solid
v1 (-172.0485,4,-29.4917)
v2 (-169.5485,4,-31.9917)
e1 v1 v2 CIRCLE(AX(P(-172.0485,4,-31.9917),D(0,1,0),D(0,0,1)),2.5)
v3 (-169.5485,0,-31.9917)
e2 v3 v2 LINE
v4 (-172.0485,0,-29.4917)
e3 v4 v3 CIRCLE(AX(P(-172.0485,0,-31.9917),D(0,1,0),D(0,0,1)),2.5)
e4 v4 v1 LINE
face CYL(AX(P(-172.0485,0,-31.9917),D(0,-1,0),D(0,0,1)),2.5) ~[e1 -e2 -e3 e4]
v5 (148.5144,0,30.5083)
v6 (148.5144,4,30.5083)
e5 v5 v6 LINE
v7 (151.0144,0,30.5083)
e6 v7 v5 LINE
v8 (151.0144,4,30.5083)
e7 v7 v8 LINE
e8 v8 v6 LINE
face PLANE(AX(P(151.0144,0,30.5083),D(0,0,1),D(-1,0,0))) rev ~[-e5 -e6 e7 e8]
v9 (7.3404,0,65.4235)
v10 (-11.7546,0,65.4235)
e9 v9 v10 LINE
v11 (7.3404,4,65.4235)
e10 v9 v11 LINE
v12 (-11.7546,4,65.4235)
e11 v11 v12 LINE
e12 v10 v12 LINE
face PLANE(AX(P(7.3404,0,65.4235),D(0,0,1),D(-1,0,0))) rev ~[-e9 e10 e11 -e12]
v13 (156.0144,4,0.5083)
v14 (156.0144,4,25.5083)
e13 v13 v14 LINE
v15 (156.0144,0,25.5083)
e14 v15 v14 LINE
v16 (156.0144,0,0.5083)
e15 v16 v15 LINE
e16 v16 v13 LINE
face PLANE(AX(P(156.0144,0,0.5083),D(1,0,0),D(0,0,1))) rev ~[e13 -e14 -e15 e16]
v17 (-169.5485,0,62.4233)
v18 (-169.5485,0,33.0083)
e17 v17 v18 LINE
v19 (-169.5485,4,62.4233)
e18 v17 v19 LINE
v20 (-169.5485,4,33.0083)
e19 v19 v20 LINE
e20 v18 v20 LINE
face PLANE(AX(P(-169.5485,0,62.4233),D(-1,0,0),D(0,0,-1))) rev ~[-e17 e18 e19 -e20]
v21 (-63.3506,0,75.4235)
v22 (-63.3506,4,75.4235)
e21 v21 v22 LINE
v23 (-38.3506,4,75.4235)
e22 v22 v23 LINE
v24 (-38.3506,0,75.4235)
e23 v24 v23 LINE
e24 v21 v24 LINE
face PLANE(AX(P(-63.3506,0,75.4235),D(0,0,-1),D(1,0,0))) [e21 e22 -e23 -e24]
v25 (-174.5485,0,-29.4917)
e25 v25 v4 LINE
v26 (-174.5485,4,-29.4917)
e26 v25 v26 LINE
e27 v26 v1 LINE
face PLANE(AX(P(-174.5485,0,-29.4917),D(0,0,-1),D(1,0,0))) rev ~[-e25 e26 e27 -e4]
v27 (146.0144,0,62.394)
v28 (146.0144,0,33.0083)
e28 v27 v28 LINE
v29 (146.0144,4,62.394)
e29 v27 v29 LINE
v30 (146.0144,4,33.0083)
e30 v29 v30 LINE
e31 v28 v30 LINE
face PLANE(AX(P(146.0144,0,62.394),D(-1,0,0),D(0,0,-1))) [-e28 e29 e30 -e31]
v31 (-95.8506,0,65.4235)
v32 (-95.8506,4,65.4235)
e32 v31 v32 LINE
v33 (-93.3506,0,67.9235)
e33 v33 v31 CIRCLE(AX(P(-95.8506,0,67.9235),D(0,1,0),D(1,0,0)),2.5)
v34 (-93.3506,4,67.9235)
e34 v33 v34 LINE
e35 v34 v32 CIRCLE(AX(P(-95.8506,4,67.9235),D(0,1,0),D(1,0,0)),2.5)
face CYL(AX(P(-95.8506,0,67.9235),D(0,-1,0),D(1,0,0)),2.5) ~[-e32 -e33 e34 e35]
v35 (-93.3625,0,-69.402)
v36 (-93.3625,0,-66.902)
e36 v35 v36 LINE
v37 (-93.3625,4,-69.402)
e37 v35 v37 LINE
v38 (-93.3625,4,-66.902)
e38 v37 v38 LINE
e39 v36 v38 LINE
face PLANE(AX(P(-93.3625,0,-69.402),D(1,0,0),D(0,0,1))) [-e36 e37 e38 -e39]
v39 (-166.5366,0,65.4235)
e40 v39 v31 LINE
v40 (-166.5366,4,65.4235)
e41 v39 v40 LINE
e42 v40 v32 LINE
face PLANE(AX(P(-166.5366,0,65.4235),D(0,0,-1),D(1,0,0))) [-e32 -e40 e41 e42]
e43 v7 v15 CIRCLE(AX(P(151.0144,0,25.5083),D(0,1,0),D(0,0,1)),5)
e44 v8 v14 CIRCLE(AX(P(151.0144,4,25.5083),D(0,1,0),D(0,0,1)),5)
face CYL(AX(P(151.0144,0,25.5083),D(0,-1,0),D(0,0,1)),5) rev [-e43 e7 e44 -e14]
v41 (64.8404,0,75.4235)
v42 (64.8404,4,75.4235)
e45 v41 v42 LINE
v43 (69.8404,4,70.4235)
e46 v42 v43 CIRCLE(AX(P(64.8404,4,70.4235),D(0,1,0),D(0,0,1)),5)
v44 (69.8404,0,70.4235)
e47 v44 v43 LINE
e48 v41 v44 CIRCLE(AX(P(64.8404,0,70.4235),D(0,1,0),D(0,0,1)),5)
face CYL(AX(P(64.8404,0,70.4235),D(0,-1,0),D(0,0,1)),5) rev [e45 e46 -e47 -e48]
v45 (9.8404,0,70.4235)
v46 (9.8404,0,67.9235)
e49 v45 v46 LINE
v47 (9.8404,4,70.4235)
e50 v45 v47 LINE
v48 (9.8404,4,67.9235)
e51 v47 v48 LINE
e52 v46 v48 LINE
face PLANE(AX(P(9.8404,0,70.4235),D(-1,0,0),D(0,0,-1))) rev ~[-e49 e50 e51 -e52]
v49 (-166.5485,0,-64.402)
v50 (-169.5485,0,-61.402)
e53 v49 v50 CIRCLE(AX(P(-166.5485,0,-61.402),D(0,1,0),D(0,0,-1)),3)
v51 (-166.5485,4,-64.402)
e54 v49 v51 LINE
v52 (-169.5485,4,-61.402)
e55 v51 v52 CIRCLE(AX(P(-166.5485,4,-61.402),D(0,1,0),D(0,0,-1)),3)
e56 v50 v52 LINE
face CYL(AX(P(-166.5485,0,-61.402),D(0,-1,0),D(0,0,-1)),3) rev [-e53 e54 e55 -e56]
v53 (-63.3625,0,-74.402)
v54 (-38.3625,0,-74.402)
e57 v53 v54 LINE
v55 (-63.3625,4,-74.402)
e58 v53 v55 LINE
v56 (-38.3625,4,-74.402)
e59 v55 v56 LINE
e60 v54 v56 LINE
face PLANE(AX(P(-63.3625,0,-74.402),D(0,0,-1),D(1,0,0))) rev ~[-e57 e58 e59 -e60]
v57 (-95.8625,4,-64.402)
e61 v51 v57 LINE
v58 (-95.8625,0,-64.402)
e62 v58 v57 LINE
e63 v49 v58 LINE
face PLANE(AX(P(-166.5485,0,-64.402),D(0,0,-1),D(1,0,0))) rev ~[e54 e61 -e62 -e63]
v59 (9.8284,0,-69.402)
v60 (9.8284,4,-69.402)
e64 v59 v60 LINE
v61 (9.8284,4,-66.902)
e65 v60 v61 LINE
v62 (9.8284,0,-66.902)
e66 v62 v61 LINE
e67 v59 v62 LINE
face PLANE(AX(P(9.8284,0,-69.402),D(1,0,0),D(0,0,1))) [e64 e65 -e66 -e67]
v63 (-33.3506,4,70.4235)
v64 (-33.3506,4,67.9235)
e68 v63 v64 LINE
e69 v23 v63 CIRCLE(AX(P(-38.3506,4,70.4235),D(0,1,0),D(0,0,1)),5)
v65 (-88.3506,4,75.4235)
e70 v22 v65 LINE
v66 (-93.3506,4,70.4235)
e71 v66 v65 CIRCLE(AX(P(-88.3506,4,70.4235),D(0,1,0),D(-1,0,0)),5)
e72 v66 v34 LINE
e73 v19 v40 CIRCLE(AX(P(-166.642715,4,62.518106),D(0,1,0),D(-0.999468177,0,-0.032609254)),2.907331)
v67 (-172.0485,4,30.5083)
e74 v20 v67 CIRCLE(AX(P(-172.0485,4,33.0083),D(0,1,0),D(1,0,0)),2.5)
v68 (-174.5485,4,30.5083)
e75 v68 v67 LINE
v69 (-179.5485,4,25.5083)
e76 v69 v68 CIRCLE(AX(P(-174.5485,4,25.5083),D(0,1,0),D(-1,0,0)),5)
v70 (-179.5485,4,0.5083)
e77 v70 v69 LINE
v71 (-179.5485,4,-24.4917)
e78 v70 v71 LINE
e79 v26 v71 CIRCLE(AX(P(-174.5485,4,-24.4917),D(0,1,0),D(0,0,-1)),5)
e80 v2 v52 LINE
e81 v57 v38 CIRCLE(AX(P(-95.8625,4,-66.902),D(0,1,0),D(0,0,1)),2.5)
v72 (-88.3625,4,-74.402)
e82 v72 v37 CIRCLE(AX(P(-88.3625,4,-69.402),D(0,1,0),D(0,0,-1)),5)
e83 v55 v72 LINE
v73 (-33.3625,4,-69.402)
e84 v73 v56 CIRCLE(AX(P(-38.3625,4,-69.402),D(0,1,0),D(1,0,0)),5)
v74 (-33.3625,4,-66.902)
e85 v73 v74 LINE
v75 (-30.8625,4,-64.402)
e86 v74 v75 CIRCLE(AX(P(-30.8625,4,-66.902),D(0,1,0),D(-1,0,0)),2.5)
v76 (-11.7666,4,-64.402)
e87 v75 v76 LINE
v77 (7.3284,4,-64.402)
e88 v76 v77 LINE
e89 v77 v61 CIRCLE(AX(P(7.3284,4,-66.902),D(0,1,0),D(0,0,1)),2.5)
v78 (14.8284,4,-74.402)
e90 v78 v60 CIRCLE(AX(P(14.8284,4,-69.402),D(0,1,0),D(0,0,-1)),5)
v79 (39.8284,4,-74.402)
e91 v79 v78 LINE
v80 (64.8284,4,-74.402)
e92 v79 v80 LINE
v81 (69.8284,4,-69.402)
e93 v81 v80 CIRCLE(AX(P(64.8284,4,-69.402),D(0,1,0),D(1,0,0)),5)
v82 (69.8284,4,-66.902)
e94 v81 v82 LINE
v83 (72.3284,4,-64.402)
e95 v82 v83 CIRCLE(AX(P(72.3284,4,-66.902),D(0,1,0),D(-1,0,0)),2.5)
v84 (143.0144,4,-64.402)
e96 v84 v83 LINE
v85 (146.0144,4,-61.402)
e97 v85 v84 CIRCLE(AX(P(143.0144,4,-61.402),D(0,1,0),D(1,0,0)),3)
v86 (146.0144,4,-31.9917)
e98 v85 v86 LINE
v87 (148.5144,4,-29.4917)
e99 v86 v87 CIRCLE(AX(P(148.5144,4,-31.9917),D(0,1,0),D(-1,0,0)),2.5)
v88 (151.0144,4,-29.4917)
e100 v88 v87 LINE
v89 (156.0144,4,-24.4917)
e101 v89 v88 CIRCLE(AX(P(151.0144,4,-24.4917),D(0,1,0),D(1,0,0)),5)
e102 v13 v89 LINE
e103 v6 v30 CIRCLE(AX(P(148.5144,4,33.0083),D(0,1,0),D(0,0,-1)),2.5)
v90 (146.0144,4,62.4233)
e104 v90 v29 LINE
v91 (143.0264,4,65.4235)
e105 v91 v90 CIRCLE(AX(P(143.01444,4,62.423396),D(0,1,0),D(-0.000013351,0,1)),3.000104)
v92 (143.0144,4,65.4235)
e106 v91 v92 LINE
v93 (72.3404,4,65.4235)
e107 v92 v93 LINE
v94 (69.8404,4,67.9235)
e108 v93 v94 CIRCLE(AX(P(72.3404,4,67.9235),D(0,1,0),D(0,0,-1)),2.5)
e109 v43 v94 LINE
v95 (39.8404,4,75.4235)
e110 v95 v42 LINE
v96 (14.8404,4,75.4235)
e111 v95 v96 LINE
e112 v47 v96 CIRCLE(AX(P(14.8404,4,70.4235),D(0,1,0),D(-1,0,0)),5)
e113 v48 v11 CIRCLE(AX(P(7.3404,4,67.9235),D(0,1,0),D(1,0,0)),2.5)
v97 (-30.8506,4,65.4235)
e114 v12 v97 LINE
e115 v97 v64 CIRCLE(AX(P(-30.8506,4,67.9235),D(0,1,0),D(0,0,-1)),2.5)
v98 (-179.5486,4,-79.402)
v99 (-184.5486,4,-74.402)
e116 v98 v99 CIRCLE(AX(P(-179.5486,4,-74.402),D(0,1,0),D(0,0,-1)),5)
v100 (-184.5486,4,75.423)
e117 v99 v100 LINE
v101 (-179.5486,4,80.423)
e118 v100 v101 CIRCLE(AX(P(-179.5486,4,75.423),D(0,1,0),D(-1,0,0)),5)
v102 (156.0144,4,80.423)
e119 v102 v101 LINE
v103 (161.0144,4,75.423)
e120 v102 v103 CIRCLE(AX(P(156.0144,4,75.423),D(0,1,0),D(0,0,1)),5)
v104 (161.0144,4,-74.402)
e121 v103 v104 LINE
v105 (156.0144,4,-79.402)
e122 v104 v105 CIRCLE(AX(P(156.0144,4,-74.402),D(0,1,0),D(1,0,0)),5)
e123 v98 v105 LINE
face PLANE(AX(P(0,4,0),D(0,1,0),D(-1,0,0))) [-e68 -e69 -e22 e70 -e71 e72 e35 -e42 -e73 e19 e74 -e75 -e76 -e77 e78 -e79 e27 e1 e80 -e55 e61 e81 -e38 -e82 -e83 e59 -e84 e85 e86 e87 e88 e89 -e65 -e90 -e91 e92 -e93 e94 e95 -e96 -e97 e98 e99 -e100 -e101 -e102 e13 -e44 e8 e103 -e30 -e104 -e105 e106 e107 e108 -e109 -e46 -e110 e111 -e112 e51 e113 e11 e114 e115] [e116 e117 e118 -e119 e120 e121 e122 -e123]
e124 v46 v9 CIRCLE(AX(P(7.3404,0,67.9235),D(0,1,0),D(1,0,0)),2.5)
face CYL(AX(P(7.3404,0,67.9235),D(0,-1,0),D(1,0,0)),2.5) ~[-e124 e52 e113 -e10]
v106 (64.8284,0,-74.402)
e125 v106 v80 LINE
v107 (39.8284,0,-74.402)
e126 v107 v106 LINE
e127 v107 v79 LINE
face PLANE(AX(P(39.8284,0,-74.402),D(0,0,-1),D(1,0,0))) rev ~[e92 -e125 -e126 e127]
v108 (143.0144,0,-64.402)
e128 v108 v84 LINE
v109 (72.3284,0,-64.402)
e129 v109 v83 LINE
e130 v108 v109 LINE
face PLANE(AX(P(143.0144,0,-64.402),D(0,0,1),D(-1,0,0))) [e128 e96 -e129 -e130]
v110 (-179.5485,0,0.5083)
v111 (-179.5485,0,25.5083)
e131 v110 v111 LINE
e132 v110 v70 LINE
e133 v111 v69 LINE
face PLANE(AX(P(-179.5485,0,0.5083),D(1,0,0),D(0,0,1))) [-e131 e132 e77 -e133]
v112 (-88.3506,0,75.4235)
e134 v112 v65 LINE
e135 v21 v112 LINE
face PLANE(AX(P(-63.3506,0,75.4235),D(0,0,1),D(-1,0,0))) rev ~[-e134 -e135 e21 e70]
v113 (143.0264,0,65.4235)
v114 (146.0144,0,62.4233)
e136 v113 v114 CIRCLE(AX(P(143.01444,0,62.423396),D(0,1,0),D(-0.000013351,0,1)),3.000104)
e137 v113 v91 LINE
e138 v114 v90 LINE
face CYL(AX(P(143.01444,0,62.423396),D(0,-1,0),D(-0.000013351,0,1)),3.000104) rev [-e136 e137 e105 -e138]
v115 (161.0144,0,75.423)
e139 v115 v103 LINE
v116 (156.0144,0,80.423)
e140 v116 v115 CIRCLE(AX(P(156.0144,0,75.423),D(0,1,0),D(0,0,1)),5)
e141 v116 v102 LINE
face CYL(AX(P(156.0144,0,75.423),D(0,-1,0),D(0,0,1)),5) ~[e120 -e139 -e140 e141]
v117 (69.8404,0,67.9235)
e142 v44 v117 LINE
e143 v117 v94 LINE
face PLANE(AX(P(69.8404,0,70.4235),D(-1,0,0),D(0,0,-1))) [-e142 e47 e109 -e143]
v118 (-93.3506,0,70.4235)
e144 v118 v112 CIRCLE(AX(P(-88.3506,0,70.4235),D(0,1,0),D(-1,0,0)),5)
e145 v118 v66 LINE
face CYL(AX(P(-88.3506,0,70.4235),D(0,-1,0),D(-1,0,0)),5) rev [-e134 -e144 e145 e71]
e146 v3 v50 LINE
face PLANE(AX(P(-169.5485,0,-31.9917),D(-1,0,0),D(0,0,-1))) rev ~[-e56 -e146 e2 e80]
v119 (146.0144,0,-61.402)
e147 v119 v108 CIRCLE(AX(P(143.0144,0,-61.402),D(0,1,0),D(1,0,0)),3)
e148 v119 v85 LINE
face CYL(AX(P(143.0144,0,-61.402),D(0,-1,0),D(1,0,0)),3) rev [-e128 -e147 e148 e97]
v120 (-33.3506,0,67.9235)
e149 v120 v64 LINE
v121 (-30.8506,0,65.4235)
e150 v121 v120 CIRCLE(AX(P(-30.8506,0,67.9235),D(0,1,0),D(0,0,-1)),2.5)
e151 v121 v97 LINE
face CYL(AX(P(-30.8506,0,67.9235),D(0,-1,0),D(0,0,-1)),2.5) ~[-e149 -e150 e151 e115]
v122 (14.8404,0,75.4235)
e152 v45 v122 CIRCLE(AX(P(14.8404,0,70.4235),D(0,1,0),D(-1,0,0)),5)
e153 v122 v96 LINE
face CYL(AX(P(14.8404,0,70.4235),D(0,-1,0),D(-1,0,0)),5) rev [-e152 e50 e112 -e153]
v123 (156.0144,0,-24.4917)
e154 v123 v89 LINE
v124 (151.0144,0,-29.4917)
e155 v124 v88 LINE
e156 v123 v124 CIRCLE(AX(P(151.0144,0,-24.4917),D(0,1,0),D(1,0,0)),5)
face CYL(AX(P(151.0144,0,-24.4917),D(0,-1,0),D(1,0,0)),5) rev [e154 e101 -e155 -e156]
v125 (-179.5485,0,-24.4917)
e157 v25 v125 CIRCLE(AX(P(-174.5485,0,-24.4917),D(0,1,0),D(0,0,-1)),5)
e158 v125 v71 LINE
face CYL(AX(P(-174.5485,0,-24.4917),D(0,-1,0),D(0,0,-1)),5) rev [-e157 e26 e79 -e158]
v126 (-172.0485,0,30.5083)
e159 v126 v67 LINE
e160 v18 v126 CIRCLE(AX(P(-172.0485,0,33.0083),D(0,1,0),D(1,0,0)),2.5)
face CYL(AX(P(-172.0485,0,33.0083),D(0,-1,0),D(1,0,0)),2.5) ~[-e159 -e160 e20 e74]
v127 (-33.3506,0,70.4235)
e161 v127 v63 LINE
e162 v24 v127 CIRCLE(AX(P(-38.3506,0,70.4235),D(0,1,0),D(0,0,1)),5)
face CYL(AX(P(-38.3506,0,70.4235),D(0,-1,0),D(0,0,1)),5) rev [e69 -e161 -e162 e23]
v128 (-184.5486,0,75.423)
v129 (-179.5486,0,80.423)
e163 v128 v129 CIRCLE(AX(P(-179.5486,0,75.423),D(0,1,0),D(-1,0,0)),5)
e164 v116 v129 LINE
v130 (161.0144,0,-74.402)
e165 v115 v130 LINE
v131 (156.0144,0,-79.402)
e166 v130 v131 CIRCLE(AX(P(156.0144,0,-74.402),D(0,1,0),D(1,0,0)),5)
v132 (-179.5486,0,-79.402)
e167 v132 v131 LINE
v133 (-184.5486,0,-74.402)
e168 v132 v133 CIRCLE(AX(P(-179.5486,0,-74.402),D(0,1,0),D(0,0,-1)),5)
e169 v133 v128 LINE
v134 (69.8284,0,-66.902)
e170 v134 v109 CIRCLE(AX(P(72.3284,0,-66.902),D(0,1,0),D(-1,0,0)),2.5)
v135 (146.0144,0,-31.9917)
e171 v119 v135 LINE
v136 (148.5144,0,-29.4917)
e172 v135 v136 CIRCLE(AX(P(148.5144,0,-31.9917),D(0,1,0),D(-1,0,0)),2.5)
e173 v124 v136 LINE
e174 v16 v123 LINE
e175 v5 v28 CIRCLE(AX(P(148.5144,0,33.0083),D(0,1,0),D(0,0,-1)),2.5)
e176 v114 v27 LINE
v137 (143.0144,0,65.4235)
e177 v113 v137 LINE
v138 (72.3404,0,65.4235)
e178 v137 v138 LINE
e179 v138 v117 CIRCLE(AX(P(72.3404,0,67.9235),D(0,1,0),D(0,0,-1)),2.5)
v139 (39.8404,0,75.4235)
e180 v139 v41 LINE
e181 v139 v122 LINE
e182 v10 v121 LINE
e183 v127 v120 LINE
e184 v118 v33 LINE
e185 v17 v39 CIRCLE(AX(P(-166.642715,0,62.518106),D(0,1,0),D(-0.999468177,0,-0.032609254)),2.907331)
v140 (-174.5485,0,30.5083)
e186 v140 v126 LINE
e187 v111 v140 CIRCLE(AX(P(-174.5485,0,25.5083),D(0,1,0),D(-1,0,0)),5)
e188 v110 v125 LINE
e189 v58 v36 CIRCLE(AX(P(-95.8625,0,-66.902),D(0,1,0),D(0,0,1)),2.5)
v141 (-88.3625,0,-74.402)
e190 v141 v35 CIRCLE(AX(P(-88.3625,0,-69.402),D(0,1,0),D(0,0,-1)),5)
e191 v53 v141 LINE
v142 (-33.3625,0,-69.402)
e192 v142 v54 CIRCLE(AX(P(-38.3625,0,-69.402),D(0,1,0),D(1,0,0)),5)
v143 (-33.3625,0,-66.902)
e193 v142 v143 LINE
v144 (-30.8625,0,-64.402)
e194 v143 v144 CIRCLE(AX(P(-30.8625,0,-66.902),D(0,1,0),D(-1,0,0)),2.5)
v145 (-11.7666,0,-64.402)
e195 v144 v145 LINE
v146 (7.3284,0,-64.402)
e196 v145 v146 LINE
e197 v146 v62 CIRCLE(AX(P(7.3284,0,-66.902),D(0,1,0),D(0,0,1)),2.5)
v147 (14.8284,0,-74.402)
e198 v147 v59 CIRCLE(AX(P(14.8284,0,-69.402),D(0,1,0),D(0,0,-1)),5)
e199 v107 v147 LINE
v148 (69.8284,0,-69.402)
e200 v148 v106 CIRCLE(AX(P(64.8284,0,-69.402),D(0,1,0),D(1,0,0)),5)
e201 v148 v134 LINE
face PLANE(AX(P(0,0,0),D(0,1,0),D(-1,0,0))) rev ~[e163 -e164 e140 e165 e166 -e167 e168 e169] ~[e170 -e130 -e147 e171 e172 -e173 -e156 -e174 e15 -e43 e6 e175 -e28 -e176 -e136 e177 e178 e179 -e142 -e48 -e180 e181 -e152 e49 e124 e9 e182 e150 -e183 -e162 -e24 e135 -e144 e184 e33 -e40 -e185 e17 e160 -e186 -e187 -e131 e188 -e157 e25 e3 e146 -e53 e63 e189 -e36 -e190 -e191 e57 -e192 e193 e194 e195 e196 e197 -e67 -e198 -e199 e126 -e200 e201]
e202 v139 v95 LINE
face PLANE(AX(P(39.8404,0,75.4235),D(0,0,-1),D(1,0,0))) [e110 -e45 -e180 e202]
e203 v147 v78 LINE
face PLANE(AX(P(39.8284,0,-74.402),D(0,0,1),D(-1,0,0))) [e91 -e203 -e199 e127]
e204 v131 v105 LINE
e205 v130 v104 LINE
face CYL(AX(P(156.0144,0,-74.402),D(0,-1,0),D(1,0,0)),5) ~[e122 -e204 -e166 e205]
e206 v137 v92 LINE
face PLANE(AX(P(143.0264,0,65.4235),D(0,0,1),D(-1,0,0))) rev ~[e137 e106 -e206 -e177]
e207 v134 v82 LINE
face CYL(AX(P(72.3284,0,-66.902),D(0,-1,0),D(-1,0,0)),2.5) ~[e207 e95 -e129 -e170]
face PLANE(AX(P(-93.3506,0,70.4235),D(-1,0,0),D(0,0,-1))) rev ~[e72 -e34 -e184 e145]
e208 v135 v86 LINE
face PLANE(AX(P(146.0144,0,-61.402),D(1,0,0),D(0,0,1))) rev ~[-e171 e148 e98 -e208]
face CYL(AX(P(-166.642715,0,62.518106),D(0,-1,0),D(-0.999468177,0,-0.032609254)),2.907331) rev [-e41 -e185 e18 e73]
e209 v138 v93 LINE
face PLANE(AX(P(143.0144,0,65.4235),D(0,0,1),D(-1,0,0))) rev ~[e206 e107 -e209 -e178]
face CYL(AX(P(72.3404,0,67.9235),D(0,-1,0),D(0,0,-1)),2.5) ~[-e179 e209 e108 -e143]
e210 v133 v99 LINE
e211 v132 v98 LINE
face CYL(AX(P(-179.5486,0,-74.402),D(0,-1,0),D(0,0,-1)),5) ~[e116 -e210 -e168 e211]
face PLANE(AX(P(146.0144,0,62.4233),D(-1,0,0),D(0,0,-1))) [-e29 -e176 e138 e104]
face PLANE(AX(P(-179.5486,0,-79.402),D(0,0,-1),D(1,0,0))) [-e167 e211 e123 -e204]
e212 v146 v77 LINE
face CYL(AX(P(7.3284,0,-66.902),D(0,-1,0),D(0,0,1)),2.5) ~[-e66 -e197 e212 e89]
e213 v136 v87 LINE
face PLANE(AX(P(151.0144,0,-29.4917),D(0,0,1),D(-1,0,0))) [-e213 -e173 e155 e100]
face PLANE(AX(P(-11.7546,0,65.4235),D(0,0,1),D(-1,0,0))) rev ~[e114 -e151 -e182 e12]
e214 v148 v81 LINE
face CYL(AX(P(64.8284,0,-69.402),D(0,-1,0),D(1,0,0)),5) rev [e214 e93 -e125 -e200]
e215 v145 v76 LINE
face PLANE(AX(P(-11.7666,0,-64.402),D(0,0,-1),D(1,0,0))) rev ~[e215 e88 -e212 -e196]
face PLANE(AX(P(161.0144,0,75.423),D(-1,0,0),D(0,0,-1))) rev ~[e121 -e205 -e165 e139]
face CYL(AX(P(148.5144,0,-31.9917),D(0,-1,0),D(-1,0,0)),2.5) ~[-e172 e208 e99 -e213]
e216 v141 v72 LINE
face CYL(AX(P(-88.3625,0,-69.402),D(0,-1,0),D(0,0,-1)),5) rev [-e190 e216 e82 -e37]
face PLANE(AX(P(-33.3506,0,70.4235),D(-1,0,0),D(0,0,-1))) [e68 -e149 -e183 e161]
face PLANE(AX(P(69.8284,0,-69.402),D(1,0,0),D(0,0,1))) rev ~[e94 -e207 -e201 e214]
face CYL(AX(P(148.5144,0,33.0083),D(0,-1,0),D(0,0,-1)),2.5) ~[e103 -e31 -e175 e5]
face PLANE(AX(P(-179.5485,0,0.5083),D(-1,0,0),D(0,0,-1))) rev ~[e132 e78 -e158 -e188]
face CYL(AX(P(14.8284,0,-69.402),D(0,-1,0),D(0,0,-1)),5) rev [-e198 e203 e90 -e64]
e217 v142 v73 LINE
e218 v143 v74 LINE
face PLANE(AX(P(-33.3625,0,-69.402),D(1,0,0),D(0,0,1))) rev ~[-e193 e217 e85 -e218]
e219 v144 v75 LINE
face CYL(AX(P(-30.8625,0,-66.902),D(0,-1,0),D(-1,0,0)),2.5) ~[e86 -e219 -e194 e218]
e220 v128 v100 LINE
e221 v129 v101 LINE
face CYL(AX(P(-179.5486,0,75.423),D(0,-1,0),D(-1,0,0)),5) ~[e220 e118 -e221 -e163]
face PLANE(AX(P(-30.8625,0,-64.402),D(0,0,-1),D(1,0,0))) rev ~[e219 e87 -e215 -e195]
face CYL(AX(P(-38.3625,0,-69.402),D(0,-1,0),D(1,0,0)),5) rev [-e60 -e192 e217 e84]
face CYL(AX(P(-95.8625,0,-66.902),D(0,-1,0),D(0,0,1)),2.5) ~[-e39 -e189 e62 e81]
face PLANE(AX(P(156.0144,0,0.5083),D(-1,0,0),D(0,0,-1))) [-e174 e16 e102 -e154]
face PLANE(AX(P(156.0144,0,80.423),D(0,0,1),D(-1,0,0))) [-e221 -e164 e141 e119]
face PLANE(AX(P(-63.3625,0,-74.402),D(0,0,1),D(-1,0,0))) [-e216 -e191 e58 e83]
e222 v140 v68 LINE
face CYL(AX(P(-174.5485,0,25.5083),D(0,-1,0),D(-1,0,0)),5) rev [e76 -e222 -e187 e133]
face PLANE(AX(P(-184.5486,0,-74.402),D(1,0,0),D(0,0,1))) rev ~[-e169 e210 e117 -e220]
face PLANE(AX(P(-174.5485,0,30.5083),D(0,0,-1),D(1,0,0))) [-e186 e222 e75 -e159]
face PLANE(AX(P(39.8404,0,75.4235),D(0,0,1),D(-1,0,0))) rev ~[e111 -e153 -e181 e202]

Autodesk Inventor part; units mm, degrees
ref_plane "YZ Plane" through (0, 0, 0) normal (1, 0, 0) x (0, 1, 0)
ref_plane "XZ Plane" through (0, 0, 0) normal (0, 1, 0) x (-1, 0, 0)
ref_plane "XY Plane" through (0, 0, 0) normal (0, 0, 1) x (1, 0, 0)
sketch "Sketch1" plane through (0, 0, 0) normal (0, 1, 0) x (-1, 0, 0)
  line L0 (-161.0144, 75.423) -> (-161.0144, -74.402)
  line L1 (-156.0144, 80.423) -> (179.5486, 80.423)
  arc A0 (-156.0144, 80.423) -> (-161.0144, 75.423) centre (-156.0144, 75.423) ccw
  arc A1 (-161.0144, -74.402) -> (-156.0144, -79.402) centre (-156.0144, -74.402) ccw
  line L2 (184.5486, -74.402) -> (184.5486, 75.423)
  line L3 (179.5486, -79.402) -> (-156.0144, -79.402)
  arc A2 (179.5486, -79.402) -> (184.5486, -74.402) centre (179.5486, -74.402) ccw
  arc A3 (184.5486, 75.423) -> (179.5486, 80.423) centre (179.5486, 75.423) ccw
  line L4 (-143.0264, 65.4235) -> (-72.3404, 65.4235)
  line L5 (169.5485, 62.4233) -> (169.5485, 33.0083)
  line L6 (-146.0144, -61.402) -> (-146.0144, -31.9917)
  line L7 (-146.0144, 62.4233) -> (-146.0144, 33.0083)
  line L8 (-156.0144, 0.5083) -> (-156.0144, -24.4917)
  line L9 (-156.0144, 0.5083) -> (-156.0144, 25.5083)
  line L10 (-151.0144, -29.4917) -> (-148.5144, -29.4917)
  line L11 (-151.0144, 30.5083) -> (-148.5144, 30.5083)
  line L12 (-7.3404, 65.4235) -> (30.8506, 65.4235)
  line L13 (166.5366, 65.4235) -> (95.8506, 65.4235)
  arc A4 (-151.0144, 30.5083) -> (-156.0144, 25.5083) centre (-151.0144, 25.5083) ccw
  arc A5 (-156.0144, -24.4917) -> (-151.0144, -29.4917) centre (-151.0144, -24.4917) ccw
  arc A6 (-146.0144, -31.9917) -> (-148.5144, -29.4917) centre (-148.5144, -31.9917) ccw
  arc A7 (-148.5144, 30.5083) -> (-146.0144, 33.0083) centre (-148.5144, 33.0083) ccw
  line L14 (179.5485, 0.5083) -> (179.5485, 25.5083)
  line L15 (179.5485, 0.5083) -> (179.5485, -24.4917)
  line L16 (174.5485, 30.5083) -> (172.0485, 30.5083)
  line L17 (174.5485, -29.4917) -> (172.0485, -29.4917)
  arc A8 (174.5485, -29.4917) -> (179.5485, -24.4917) centre (174.5485, -24.4917) ccw
  arc A9 (179.5485, 25.5083) -> (174.5485, 30.5083) centre (174.5485, 25.5083) ccw
  arc A10 (169.5485, 33.0083) -> (172.0485, 30.5083) centre (172.0485, 33.0083) ccw
  arc A11 (172.0485, -29.4917) -> (169.5485, -31.9917) centre (172.0485, -31.9917) ccw
  line L18 (169.5485, -31.9917) -> (169.5485, -61.402)
  line L19 (-39.8404, 75.4235) -> (-64.8404, 75.4235)
  line L20 (-39.8404, 75.4235) -> (-14.8404, 75.4235)
  line L21 (-69.8404, 70.4235) -> (-69.8404, 67.9235)
  line L22 (-9.8404, 70.4235) -> (-9.8404, 67.9235)
  arc A12 (-9.8404, 70.4235) -> (-14.8404, 75.4235) centre (-14.8404, 70.4235) ccw
  arc A13 (-64.8404, 75.4235) -> (-69.8404, 70.4235) centre (-64.8404, 70.4235) ccw
  arc A14 (-72.3404, 65.4235) -> (-69.8404, 67.9235) centre (-72.3404, 67.9235) ccw
  arc A15 (-9.8404, 67.9235) -> (-7.3404, 65.4235) centre (-7.3404, 67.9235) ccw
  line L23 (63.3506, 75.4235) -> (38.3506, 75.4235)
  line L24 (63.3506, 75.4235) -> (88.3506, 75.4235)
  line L25 (33.3506, 70.4235) -> (33.3506, 67.9235)
  line L26 (93.3506, 70.4235) -> (93.3506, 67.9235)
  arc A16 (93.3506, 70.4235) -> (88.3506, 75.4235) centre (88.3506, 70.4235) ccw
  arc A17 (38.3506, 75.4235) -> (33.3506, 70.4235) centre (38.3506, 70.4235) ccw
  arc A18 (30.8506, 65.4235) -> (33.3506, 67.9235) centre (30.8506, 67.9235) ccw
  arc A19 (93.3506, 67.9235) -> (95.8506, 65.4235) centre (95.8506, 67.9235) ccw
  line L27 (166.5485, -64.402) -> (95.8625, -64.402)
  line L28 (-143.0144, -64.402) -> (-72.3284, -64.402)
  line L29 (63.3625, -74.402) -> (88.3625, -74.402)
  line L30 (63.3625, -74.402) -> (38.3625, -74.402)
  line L31 (93.3625, -69.402) -> (93.3625, -66.902)
  line L32 (33.3625, -69.402) -> (33.3625, -66.902)
  arc A20 (33.3625, -69.402) -> (38.3625, -74.402) centre (38.3625, -69.402) ccw
  arc A21 (88.3625, -74.402) -> (93.3625, -69.402) centre (88.3625, -69.402) ccw
  arc A22 (95.8625, -64.402) -> (93.3625, -66.902) centre (95.8625, -66.902) ccw
  arc A23 (33.3625, -66.902) -> (30.8625, -64.402) centre (30.8625, -66.902) ccw
  line L33 (-39.8284, -74.402) -> (-14.8284, -74.402)
  line L34 (-39.8284, -74.402) -> (-64.8284, -74.402)
  line L35 (-9.8284, -69.402) -> (-9.8284, -66.902)
  line L36 (-69.8284, -69.402) -> (-69.8284, -66.902)
  arc A24 (-69.8284, -69.402) -> (-64.8284, -74.402) centre (-64.8284, -69.402) ccw
  arc A25 (-14.8284, -74.402) -> (-9.8284, -69.402) centre (-14.8284, -69.402) ccw
  arc A26 (-7.3284, -64.402) -> (-9.8284, -66.902) centre (-7.3284, -66.902) ccw
  arc A27 (-69.8284, -66.902) -> (-72.3284, -64.402) centre (-72.3284, -66.902) ccw
  line L37 (30.8625, -64.402) -> (-7.3284, -64.402)
  line L38 (-7.3284, -64.402) -> (11.7666, -64.402)
  line L39 (-7.3404, 65.4235) -> (11.7546, 65.4235)
  arc A28 (-143.0144, 65.4235) -> (-146.0144, 62.394) centre (-143.0144, 62.4233) ccw
  arc A29 (169.5485, 62.4233) -> (166.5366, 65.4235) centre (166.6427, 62.5181) ccw
  arc A30 (166.5485, -64.402) -> (169.5485, -61.402) centre (166.5485, -61.402) ccw
  arc A31 (-146.0144, -61.402) -> (-143.0144, -64.402) centre (-143.0144, -61.402) ccw
  point P0 (0, 0)
extrude "Extrusion1" add sketch "Sketch1" along normal blind 4
properties part number "layer3"
